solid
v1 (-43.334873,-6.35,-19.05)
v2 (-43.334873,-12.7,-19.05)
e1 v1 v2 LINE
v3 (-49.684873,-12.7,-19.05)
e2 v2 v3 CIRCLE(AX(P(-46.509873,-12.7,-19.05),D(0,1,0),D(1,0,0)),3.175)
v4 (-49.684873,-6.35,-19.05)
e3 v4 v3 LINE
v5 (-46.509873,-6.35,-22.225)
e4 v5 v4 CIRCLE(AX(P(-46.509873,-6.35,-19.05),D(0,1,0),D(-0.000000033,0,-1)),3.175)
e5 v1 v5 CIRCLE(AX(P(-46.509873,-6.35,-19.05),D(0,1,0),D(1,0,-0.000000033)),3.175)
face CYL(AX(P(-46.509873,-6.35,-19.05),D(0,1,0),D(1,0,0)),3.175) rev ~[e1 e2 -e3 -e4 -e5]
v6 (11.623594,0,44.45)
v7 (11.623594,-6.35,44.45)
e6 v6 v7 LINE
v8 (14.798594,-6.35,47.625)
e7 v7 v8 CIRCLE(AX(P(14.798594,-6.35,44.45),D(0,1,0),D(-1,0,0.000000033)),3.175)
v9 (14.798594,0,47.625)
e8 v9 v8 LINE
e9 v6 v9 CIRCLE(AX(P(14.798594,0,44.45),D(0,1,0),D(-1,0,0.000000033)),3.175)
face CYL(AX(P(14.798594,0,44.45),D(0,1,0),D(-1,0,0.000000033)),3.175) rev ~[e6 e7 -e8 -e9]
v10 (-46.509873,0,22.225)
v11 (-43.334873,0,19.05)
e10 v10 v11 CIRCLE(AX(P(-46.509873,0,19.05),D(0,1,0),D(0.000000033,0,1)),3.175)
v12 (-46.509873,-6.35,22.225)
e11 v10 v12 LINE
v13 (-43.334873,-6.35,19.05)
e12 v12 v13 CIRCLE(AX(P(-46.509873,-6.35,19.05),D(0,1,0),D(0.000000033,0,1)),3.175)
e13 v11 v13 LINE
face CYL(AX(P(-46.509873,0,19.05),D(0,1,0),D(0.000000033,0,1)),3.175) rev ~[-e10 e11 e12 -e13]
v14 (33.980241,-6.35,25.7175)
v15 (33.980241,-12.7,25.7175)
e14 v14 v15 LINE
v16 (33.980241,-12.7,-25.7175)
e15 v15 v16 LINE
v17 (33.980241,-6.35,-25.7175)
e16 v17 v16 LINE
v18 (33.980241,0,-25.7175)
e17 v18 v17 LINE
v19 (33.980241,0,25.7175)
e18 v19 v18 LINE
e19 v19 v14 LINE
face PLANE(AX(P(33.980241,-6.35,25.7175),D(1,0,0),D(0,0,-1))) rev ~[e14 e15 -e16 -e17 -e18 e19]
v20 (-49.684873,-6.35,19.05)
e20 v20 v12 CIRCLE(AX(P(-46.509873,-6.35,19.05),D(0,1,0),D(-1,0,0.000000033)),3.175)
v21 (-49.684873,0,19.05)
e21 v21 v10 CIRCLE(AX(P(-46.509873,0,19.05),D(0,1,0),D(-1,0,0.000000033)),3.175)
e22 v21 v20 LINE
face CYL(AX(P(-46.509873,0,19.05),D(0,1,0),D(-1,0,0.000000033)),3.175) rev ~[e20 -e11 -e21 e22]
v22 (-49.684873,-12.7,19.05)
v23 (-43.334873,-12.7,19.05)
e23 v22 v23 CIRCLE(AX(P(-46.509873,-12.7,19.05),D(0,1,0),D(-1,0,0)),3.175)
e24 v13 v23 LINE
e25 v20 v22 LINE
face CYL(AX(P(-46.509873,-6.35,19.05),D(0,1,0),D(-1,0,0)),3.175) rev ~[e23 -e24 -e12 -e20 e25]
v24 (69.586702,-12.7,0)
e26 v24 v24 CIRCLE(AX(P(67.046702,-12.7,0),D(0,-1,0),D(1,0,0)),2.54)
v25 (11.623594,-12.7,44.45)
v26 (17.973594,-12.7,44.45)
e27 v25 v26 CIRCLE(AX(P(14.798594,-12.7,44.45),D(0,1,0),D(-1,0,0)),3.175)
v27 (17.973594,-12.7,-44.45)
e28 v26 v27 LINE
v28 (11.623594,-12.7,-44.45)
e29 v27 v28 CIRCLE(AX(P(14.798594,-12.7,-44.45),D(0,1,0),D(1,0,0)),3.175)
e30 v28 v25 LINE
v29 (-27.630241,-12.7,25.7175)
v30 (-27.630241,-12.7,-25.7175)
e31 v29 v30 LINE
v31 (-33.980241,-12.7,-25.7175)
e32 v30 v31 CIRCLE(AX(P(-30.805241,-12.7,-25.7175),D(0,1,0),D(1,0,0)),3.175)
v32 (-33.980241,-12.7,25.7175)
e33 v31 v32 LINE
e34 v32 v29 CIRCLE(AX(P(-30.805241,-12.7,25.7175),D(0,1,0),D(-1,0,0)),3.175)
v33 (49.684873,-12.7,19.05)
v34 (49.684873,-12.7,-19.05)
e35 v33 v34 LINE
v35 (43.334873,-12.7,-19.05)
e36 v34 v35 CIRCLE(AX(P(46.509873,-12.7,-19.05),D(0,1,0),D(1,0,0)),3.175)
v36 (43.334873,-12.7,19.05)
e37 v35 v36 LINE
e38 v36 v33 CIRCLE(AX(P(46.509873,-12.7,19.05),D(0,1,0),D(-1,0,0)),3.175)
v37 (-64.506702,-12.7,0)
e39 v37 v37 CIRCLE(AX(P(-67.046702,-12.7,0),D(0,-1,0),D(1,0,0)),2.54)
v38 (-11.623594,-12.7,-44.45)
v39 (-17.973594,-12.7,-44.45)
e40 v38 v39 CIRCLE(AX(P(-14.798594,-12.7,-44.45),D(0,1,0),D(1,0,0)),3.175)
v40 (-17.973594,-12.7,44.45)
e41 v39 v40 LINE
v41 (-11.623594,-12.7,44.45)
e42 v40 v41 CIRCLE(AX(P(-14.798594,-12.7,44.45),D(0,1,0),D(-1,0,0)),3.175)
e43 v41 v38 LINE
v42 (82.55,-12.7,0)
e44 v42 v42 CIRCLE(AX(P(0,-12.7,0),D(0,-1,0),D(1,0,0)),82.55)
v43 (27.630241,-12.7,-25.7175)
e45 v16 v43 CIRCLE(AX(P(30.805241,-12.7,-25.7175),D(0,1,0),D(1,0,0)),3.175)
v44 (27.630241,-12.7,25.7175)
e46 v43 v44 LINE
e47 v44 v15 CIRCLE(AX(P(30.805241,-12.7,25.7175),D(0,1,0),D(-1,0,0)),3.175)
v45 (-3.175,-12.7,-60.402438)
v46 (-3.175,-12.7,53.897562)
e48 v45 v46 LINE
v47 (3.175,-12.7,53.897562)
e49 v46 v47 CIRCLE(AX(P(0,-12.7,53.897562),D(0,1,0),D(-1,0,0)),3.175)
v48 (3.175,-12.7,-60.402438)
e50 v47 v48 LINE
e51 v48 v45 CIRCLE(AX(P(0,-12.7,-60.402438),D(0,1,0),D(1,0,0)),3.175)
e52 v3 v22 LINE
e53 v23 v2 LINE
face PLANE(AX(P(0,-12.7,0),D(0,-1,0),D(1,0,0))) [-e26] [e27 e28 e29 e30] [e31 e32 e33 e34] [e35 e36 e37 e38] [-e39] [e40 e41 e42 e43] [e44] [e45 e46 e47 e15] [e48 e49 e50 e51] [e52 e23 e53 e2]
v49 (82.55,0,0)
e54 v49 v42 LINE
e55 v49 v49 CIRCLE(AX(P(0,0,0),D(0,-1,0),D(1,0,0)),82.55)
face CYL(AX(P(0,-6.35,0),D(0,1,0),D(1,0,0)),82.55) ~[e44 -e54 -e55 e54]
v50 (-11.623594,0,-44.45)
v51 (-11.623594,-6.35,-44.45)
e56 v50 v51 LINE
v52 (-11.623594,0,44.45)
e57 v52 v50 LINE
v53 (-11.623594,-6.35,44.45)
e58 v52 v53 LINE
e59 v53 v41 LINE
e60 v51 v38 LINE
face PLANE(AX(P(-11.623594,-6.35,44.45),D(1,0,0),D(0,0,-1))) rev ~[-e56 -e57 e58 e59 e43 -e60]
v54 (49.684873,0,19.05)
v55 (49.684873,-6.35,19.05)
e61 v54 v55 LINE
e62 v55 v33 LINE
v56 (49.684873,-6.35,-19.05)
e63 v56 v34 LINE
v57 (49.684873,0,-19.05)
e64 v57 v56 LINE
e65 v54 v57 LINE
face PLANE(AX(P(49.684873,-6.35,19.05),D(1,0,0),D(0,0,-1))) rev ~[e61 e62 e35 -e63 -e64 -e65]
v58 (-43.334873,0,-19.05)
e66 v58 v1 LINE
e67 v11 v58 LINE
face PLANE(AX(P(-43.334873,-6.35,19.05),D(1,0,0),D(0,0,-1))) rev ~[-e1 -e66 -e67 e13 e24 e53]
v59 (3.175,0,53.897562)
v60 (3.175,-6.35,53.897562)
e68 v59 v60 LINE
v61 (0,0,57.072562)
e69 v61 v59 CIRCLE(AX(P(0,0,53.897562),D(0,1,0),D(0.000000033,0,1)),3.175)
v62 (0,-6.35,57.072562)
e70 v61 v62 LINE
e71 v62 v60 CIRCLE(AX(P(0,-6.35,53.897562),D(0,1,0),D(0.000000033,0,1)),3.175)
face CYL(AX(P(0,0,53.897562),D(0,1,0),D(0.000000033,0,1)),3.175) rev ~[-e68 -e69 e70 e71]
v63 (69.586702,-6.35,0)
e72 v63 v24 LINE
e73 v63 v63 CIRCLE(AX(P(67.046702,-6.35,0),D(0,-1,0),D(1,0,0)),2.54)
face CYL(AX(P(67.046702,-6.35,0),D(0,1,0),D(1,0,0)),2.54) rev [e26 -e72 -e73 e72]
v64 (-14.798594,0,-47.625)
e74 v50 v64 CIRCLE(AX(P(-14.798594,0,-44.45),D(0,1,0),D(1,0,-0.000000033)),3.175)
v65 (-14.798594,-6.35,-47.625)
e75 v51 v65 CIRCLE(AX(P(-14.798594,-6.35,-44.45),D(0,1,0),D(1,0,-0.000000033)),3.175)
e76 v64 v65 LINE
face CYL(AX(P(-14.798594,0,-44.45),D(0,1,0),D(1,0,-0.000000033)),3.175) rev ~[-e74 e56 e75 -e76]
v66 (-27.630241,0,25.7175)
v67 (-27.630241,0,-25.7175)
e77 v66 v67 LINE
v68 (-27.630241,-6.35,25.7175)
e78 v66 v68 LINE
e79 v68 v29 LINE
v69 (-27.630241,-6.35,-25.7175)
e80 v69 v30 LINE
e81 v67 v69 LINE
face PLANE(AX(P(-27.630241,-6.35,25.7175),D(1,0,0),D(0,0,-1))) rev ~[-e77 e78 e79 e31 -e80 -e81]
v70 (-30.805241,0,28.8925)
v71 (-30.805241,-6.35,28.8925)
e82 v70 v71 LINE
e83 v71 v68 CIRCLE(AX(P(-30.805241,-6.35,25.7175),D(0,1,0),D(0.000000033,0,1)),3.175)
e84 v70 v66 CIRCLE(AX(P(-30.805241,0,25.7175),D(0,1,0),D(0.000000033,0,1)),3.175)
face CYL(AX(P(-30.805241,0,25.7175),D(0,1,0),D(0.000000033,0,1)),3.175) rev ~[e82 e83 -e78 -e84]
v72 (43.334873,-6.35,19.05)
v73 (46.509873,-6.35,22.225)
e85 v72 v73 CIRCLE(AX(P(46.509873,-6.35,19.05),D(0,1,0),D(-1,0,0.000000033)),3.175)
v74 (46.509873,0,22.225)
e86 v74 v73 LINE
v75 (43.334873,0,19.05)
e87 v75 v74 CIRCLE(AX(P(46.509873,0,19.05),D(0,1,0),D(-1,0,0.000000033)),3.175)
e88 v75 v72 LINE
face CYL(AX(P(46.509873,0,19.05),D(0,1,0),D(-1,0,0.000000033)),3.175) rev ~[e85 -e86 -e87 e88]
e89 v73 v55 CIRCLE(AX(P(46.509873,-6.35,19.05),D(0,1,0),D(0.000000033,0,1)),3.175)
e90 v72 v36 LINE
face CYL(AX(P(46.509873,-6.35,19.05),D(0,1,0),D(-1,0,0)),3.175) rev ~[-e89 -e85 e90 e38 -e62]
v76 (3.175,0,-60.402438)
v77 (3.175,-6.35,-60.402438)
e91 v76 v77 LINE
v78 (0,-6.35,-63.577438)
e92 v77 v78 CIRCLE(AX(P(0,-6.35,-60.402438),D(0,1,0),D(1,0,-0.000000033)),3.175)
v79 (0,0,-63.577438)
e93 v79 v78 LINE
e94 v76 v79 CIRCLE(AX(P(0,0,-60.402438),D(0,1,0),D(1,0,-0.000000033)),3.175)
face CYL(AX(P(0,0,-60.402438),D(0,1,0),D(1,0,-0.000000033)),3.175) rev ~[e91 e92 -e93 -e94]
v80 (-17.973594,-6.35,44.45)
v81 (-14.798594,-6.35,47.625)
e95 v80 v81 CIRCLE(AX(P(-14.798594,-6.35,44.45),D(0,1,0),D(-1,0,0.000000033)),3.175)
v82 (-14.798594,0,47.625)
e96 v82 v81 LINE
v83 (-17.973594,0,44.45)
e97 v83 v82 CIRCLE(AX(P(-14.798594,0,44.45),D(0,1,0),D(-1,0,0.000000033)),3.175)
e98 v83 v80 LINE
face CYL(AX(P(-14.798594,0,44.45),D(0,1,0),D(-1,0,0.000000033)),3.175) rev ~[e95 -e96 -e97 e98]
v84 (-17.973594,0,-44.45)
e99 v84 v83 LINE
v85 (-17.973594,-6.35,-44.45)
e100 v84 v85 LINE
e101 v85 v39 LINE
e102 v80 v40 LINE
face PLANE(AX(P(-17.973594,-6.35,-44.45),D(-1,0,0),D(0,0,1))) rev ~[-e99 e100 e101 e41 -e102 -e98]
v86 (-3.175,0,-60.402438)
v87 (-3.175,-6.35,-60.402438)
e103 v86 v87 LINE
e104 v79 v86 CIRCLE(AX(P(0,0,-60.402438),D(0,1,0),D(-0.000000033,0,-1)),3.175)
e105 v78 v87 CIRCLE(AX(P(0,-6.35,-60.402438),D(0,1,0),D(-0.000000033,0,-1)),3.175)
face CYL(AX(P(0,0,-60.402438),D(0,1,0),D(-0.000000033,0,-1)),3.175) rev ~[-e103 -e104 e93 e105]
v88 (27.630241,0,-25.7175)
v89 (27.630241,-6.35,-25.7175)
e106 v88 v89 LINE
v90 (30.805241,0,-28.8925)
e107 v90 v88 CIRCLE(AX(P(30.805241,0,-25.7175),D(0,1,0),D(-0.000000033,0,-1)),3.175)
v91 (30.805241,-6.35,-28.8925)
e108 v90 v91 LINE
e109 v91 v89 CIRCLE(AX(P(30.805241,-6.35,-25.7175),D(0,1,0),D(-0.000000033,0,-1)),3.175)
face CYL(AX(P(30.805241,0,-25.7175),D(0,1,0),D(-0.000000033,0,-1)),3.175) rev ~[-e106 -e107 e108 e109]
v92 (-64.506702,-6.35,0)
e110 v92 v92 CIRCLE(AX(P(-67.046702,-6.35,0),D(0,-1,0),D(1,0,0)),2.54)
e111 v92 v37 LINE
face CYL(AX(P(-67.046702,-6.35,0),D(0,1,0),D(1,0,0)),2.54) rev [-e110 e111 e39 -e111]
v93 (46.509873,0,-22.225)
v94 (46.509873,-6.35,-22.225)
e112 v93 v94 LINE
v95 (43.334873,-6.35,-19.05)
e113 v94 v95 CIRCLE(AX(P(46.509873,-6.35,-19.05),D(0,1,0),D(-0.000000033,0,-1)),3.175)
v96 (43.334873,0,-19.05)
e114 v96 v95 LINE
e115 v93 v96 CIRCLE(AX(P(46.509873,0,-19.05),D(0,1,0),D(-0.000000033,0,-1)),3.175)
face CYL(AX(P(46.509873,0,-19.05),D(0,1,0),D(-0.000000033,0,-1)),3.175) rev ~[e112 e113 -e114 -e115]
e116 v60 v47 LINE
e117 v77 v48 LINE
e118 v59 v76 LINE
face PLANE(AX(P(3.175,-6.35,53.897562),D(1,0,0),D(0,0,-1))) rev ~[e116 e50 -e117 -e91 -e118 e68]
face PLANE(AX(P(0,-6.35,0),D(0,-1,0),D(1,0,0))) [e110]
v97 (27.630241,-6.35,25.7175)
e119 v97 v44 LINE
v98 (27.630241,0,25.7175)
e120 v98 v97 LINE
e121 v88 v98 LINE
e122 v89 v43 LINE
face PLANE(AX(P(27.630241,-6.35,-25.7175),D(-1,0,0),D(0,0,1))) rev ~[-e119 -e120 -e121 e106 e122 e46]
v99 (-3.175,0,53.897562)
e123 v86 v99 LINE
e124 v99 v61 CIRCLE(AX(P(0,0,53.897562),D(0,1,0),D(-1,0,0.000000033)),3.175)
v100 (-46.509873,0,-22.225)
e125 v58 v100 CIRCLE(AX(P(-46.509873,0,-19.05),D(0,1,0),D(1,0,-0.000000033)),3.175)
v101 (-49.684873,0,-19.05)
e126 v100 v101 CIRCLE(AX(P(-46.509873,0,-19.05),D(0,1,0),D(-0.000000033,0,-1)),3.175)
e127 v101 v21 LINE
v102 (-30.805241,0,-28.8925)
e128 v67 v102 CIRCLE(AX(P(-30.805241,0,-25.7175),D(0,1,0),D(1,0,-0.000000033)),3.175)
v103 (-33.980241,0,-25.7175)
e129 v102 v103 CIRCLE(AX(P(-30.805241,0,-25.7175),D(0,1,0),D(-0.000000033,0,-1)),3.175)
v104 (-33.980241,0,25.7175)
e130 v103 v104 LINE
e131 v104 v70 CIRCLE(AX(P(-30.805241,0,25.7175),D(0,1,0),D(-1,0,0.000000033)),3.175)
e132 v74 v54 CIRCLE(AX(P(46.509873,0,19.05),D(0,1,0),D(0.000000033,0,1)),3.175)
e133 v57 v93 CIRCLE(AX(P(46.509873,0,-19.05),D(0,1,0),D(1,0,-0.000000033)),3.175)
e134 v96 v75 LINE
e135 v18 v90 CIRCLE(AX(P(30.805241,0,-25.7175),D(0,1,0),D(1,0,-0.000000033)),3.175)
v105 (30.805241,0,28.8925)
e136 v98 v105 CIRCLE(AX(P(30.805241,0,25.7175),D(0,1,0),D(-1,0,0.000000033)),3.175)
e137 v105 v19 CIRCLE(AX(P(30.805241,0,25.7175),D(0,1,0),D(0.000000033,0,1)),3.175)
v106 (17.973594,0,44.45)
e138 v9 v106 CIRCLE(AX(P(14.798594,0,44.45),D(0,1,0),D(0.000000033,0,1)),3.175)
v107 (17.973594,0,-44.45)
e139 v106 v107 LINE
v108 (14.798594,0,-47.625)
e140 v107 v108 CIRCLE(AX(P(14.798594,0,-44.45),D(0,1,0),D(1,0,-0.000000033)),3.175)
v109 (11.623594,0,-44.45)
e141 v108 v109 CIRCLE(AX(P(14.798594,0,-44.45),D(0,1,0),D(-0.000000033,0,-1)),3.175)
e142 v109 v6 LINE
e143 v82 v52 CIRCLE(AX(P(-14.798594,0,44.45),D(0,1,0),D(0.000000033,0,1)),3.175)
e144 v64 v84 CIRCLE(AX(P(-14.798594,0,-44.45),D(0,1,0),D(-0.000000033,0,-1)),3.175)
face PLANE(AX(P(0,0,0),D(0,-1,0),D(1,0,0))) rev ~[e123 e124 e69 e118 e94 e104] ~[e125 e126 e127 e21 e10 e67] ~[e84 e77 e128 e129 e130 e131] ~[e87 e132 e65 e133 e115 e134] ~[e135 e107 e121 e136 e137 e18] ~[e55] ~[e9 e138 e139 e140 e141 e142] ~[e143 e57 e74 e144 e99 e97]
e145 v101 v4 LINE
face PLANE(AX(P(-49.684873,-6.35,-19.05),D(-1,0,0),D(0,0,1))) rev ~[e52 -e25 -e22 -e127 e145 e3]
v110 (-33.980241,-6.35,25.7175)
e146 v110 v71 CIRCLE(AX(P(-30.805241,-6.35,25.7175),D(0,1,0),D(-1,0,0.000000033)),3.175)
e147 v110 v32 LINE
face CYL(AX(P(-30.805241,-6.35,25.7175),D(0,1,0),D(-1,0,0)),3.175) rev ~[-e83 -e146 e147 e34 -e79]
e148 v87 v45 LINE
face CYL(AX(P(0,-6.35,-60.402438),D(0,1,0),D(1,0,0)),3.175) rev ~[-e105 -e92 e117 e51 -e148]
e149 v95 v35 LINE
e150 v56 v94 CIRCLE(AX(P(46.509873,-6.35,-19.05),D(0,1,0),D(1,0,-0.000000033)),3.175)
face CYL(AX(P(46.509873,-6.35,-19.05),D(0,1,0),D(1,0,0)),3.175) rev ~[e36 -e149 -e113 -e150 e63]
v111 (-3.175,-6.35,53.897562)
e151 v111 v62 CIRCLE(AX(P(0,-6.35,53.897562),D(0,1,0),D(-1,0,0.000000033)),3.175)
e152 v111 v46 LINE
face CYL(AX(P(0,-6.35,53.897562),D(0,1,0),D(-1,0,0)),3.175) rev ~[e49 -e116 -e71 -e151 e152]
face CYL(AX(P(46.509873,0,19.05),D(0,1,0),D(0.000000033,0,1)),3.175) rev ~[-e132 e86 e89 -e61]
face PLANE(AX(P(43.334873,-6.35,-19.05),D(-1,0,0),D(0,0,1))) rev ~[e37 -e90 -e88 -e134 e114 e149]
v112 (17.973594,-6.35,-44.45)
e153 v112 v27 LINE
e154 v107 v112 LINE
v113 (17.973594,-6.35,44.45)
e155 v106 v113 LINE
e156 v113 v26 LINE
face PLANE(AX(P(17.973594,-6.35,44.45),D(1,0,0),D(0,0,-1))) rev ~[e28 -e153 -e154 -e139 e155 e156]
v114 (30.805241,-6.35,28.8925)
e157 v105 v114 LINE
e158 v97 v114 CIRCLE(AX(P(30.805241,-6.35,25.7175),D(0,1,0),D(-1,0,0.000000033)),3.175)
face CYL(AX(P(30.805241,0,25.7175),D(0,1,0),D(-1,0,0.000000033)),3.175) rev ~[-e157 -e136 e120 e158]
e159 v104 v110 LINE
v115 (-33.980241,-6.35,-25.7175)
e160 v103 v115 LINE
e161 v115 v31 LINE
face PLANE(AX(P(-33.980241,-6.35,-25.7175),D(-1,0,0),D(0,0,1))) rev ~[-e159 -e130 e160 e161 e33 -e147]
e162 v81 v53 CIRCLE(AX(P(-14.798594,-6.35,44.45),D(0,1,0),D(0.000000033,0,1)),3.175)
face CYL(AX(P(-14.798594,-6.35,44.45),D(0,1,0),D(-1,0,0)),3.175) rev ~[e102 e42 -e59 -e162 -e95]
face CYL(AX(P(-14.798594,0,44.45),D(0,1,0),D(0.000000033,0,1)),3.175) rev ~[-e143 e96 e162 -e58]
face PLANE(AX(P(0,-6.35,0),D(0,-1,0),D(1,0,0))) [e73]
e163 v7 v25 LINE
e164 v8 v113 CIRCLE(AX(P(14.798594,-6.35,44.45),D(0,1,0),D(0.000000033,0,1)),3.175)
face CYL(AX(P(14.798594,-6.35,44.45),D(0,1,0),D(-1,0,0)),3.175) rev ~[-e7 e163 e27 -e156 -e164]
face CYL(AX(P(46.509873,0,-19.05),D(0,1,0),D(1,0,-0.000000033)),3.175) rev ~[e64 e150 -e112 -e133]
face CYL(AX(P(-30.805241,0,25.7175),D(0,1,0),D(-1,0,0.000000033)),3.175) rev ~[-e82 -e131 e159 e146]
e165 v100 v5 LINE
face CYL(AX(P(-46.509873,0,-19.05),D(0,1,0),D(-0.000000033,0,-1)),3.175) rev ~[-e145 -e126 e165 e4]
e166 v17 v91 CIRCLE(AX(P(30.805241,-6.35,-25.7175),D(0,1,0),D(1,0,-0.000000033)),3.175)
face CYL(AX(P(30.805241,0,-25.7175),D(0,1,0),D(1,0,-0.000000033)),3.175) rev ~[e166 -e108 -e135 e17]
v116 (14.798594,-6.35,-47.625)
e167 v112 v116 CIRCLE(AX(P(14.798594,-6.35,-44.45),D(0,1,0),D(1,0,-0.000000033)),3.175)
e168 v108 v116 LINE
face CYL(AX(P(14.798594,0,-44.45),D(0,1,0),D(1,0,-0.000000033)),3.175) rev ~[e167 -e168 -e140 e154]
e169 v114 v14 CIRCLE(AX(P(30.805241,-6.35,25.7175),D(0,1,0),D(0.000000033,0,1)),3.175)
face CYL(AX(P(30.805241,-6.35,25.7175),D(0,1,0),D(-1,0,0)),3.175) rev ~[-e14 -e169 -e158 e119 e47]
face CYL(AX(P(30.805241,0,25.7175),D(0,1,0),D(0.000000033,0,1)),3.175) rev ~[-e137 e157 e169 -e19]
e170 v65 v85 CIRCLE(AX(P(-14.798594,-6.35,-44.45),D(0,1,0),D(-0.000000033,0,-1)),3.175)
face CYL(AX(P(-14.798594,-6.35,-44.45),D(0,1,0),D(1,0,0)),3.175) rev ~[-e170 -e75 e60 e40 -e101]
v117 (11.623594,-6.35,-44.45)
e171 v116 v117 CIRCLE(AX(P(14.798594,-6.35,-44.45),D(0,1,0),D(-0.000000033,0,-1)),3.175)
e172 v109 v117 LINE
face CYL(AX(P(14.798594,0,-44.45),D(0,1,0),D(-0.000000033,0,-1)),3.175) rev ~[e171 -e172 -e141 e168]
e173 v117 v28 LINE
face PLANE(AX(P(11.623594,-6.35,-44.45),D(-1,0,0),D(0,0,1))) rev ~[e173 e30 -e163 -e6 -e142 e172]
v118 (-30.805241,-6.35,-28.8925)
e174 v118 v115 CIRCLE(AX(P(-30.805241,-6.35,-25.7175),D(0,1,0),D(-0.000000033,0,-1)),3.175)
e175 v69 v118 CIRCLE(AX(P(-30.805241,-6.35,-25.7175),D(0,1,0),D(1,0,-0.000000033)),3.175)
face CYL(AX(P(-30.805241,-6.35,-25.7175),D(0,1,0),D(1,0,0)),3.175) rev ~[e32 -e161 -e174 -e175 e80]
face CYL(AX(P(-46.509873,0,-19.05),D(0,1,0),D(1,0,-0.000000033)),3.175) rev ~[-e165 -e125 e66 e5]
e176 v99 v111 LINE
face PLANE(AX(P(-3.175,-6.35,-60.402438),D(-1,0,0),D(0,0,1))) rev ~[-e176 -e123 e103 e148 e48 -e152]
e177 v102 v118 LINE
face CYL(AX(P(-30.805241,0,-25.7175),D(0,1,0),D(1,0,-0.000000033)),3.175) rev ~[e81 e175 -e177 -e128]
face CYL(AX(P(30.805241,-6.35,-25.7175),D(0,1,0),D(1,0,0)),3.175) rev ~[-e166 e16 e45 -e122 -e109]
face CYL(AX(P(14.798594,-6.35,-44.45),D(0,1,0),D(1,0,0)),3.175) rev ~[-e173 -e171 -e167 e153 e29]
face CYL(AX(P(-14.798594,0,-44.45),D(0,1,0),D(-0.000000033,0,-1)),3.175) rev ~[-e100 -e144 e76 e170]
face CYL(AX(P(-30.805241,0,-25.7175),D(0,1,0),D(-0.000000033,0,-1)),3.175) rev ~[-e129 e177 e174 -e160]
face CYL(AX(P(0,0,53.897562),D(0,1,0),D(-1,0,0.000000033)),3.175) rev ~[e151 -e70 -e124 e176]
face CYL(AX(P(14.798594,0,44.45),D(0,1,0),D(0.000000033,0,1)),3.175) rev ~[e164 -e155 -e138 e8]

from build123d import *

# Parameters (mm, degrees)
F0_R     = 82.55
F1_DEPTH = 6.35
F2_R     = 82.55
F2_R_2   = 2.54
F3_DEPTH = 6.35


with BuildPart() as f1:
    # F0 (on Front) → F1 (new body)
    with BuildSketch(Plane.XZ):
        Circle(F0_R)
        with BuildLine():
            Line((3.175, 53.897562), (3.175, -60.402438))
            ThreePointArc((3.175, -60.402438), (2.245064, -62.647502), (0, -63.577438))
            ThreePointArc((0, -63.577438), (-2.245064, -62.647502), (-3.175, -60.402438))
            Line((-3.175, -60.402438), (-3.175, 53.897562))
            ThreePointArc((-3.175, 53.897562), (-2.245064, 56.142626), (0, 57.072562))
            ThreePointArc((0, 57.072562), (2.245064, 56.142626), (3.175, 53.897562))
        make_face(mode=Mode.SUBTRACT)
        with BuildLine():
            Line((-49.684873, -19.05), (-49.684873, 19.05))
            ThreePointArc((-49.684873, 19.05), (-48.754937, 21.295064), (-46.509873, 22.225))
            ThreePointArc((-46.509873, 22.225), (-44.264809, 21.295064), (-43.334873, 19.05))
            Line((-43.334873, 19.05), (-43.334873, -19.05))
            ThreePointArc((-43.334873, -19.05), (-44.264809, -21.295064), (-46.509873, -22.225))
            ThreePointArc((-46.509873, -22.225), (-48.754937, -21.295064), (-49.684873, -19.05))
        make_face(mode=Mode.SUBTRACT)
        with BuildLine():
            Line((-33.980241, -25.7175), (-33.980241, 25.7175))
            ThreePointArc((-33.980241, 25.7175), (-33.050305, 27.962564), (-30.805241, 28.8925))
            ThreePointArc((-30.805241, 28.8925), (-28.560177, 27.962564), (-27.630241, 25.7175))
            Line((-27.630241, 25.7175), (-27.630241, -25.7175))
            ThreePointArc((-27.630241, -25.7175), (-28.560177, -27.962564), (-30.805241, -28.8925))
            ThreePointArc((-30.805241, -28.8925), (-33.050305, -27.962564), (-33.980241, -25.7175))
        make_face(mode=Mode.SUBTRACT)
        with BuildLine():
            Line((-17.973594, -44.45), (-17.973594, 44.45))
            ThreePointArc((-17.973594, 44.45), (-17.043658, 46.695064), (-14.798594, 47.625))
            ThreePointArc((-14.798594, 47.625), (-12.55353, 46.695064), (-11.623594, 44.45))
            Line((-11.623594, 44.45), (-11.623594, -44.45))
            ThreePointArc((-11.623594, -44.45), (-12.55353, -46.695064), (-14.798594, -47.625))
            ThreePointArc((-14.798594, -47.625), (-17.043658, -46.695064), (-17.973594, -44.45))
        make_face(mode=Mode.SUBTRACT)
        with BuildLine():
            ThreePointArc((11.623594, 44.45), (12.55353, 46.695064), (14.798594, 47.625))
            ThreePointArc((14.798594, 47.625), (17.043658, 46.695064), (17.973594, 44.45))
            Line((17.973594, 44.45), (17.973594, -44.45))
            ThreePointArc((17.973594, -44.45), (17.043658, -46.695064), (14.798594, -47.625))
            ThreePointArc((14.798594, -47.625), (12.55353, -46.695064), (11.623594, -44.45))
            Line((11.623594, -44.45), (11.623594, 44.45))
        make_face(mode=Mode.SUBTRACT)
        with BuildLine():
            ThreePointArc((33.980241, -25.7175), (33.050305, -27.962564), (30.805241, -28.8925))
            ThreePointArc((30.805241, -28.8925), (28.560177, -27.962564), (27.630241, -25.7175))
            Line((27.630241, -25.7175), (27.630241, 25.7175))
            ThreePointArc((27.630241, 25.7175), (28.560177, 27.962564), (30.805241, 28.8925))
            ThreePointArc((30.805241, 28.8925), (33.050305, 27.962564), (33.980241, 25.7175))
            Line((33.980241, 25.7175), (33.980241, -25.7175))
        make_face(mode=Mode.SUBTRACT)
        with BuildLine():
            ThreePointArc((43.334873, 19.05), (44.264809, 21.295064), (46.509873, 22.225))
            ThreePointArc((46.509873, 22.225), (48.754937, 21.295064), (49.684873, 19.05))
            Line((49.684873, 19.05), (49.684873, -19.05))
            ThreePointArc((49.684873, -19.05), (48.754937, -21.295064), (46.509873, -22.225))
            ThreePointArc((46.509873, -22.225), (44.264809, -21.295064), (43.334873, -19.05))
            Line((43.334873, -19.05), (43.334873, 19.05))
        make_face(mode=Mode.SUBTRACT)
    extrude(amount=F1_DEPTH)

    # F2 (on face) → F3 (join)
    with BuildSketch(Plane.XZ.offset(6.35)):
        Circle(F2_R)
        with BuildLine():
            Line((-3.175, -60.402438), (-3.175, 53.897562))
            ThreePointArc((-3.175, 53.897562), (0, 57.072562), (3.175, 53.897562))
            Line((3.175, 53.897562), (3.175, -60.402438))
            ThreePointArc((3.175, -60.402438), (0, -63.577438), (-3.175, -60.402438))
        make_face(mode=Mode.SUBTRACT)
        with Locations((-67.046702, 0)):
            Circle(F2_R_2, mode=Mode.SUBTRACT)
        with BuildLine():
            Line((-43.334873, 19.05), (-43.334873, -19.05))
            ThreePointArc((-43.334873, -19.05), (-46.509873, -22.225), (-49.684873, -19.05))
            Line((-49.684873, -19.05), (-49.684873, 19.05))
            ThreePointArc((-49.684873, 19.05), (-46.509873, 22.225), (-43.334873, 19.05))
        make_face(mode=Mode.SUBTRACT)
        with BuildLine():
            Line((-27.630241, 25.7175), (-27.630241, -25.7175))
            ThreePointArc((-27.630241, -25.7175), (-30.805241, -28.8925), (-33.980241, -25.7175))
            Line((-33.980241, -25.7175), (-33.980241, 25.7175))
            ThreePointArc((-33.980241, 25.7175), (-30.805241, 28.8925), (-27.630241, 25.7175))
        make_face(mode=Mode.SUBTRACT)
        with BuildLine():
            Line((-11.623594, 44.45), (-11.623594, -44.45))
            ThreePointArc((-11.623594, -44.45), (-14.798594, -47.625), (-17.973594, -44.45))
            Line((-17.973594, -44.45), (-17.973594, 44.45))
            ThreePointArc((-17.973594, 44.45), (-14.798594, 47.625), (-11.623594, 44.45))
        make_face(mode=Mode.SUBTRACT)
        with BuildLine():
            ThreePointArc((17.973594, -44.45), (14.798594, -47.625), (11.623594, -44.45))
            Line((11.623594, -44.45), (11.623594, 44.45))
            ThreePointArc((11.623594, 44.45), (14.798594, 47.625), (17.973594, 44.45))
            Line((17.973594, 44.45), (17.973594, -44.45))
        make_face(mode=Mode.SUBTRACT)
        with BuildLine():
            ThreePointArc((27.630241, 25.7175), (30.805241, 28.8925), (33.980241, 25.7175))
            Line((33.980241, 25.7175), (33.980241, -25.7175))
            ThreePointArc((33.980241, -25.7175), (30.805241, -28.8925), (27.630241, -25.7175))
            Line((27.630241, -25.7175), (27.630241, 25.7175))
        make_face(mode=Mode.SUBTRACT)
        with BuildLine():
            ThreePointArc((49.684873, -19.05), (46.509873, -22.225), (43.334873, -19.05))
            Line((43.334873, -19.05), (43.334873, 19.05))
            ThreePointArc((43.334873, 19.05), (46.509873, 22.225), (49.684873, 19.05))
            Line((49.684873, 19.05), (49.684873, -19.05))
        make_face(mode=Mode.SUBTRACT)
        with Locations((67.046702, 0)):
            Circle(F2_R_2, mode=Mode.SUBTRACT)
    extrude(amount=F3_DEPTH)


solid = f1.part
